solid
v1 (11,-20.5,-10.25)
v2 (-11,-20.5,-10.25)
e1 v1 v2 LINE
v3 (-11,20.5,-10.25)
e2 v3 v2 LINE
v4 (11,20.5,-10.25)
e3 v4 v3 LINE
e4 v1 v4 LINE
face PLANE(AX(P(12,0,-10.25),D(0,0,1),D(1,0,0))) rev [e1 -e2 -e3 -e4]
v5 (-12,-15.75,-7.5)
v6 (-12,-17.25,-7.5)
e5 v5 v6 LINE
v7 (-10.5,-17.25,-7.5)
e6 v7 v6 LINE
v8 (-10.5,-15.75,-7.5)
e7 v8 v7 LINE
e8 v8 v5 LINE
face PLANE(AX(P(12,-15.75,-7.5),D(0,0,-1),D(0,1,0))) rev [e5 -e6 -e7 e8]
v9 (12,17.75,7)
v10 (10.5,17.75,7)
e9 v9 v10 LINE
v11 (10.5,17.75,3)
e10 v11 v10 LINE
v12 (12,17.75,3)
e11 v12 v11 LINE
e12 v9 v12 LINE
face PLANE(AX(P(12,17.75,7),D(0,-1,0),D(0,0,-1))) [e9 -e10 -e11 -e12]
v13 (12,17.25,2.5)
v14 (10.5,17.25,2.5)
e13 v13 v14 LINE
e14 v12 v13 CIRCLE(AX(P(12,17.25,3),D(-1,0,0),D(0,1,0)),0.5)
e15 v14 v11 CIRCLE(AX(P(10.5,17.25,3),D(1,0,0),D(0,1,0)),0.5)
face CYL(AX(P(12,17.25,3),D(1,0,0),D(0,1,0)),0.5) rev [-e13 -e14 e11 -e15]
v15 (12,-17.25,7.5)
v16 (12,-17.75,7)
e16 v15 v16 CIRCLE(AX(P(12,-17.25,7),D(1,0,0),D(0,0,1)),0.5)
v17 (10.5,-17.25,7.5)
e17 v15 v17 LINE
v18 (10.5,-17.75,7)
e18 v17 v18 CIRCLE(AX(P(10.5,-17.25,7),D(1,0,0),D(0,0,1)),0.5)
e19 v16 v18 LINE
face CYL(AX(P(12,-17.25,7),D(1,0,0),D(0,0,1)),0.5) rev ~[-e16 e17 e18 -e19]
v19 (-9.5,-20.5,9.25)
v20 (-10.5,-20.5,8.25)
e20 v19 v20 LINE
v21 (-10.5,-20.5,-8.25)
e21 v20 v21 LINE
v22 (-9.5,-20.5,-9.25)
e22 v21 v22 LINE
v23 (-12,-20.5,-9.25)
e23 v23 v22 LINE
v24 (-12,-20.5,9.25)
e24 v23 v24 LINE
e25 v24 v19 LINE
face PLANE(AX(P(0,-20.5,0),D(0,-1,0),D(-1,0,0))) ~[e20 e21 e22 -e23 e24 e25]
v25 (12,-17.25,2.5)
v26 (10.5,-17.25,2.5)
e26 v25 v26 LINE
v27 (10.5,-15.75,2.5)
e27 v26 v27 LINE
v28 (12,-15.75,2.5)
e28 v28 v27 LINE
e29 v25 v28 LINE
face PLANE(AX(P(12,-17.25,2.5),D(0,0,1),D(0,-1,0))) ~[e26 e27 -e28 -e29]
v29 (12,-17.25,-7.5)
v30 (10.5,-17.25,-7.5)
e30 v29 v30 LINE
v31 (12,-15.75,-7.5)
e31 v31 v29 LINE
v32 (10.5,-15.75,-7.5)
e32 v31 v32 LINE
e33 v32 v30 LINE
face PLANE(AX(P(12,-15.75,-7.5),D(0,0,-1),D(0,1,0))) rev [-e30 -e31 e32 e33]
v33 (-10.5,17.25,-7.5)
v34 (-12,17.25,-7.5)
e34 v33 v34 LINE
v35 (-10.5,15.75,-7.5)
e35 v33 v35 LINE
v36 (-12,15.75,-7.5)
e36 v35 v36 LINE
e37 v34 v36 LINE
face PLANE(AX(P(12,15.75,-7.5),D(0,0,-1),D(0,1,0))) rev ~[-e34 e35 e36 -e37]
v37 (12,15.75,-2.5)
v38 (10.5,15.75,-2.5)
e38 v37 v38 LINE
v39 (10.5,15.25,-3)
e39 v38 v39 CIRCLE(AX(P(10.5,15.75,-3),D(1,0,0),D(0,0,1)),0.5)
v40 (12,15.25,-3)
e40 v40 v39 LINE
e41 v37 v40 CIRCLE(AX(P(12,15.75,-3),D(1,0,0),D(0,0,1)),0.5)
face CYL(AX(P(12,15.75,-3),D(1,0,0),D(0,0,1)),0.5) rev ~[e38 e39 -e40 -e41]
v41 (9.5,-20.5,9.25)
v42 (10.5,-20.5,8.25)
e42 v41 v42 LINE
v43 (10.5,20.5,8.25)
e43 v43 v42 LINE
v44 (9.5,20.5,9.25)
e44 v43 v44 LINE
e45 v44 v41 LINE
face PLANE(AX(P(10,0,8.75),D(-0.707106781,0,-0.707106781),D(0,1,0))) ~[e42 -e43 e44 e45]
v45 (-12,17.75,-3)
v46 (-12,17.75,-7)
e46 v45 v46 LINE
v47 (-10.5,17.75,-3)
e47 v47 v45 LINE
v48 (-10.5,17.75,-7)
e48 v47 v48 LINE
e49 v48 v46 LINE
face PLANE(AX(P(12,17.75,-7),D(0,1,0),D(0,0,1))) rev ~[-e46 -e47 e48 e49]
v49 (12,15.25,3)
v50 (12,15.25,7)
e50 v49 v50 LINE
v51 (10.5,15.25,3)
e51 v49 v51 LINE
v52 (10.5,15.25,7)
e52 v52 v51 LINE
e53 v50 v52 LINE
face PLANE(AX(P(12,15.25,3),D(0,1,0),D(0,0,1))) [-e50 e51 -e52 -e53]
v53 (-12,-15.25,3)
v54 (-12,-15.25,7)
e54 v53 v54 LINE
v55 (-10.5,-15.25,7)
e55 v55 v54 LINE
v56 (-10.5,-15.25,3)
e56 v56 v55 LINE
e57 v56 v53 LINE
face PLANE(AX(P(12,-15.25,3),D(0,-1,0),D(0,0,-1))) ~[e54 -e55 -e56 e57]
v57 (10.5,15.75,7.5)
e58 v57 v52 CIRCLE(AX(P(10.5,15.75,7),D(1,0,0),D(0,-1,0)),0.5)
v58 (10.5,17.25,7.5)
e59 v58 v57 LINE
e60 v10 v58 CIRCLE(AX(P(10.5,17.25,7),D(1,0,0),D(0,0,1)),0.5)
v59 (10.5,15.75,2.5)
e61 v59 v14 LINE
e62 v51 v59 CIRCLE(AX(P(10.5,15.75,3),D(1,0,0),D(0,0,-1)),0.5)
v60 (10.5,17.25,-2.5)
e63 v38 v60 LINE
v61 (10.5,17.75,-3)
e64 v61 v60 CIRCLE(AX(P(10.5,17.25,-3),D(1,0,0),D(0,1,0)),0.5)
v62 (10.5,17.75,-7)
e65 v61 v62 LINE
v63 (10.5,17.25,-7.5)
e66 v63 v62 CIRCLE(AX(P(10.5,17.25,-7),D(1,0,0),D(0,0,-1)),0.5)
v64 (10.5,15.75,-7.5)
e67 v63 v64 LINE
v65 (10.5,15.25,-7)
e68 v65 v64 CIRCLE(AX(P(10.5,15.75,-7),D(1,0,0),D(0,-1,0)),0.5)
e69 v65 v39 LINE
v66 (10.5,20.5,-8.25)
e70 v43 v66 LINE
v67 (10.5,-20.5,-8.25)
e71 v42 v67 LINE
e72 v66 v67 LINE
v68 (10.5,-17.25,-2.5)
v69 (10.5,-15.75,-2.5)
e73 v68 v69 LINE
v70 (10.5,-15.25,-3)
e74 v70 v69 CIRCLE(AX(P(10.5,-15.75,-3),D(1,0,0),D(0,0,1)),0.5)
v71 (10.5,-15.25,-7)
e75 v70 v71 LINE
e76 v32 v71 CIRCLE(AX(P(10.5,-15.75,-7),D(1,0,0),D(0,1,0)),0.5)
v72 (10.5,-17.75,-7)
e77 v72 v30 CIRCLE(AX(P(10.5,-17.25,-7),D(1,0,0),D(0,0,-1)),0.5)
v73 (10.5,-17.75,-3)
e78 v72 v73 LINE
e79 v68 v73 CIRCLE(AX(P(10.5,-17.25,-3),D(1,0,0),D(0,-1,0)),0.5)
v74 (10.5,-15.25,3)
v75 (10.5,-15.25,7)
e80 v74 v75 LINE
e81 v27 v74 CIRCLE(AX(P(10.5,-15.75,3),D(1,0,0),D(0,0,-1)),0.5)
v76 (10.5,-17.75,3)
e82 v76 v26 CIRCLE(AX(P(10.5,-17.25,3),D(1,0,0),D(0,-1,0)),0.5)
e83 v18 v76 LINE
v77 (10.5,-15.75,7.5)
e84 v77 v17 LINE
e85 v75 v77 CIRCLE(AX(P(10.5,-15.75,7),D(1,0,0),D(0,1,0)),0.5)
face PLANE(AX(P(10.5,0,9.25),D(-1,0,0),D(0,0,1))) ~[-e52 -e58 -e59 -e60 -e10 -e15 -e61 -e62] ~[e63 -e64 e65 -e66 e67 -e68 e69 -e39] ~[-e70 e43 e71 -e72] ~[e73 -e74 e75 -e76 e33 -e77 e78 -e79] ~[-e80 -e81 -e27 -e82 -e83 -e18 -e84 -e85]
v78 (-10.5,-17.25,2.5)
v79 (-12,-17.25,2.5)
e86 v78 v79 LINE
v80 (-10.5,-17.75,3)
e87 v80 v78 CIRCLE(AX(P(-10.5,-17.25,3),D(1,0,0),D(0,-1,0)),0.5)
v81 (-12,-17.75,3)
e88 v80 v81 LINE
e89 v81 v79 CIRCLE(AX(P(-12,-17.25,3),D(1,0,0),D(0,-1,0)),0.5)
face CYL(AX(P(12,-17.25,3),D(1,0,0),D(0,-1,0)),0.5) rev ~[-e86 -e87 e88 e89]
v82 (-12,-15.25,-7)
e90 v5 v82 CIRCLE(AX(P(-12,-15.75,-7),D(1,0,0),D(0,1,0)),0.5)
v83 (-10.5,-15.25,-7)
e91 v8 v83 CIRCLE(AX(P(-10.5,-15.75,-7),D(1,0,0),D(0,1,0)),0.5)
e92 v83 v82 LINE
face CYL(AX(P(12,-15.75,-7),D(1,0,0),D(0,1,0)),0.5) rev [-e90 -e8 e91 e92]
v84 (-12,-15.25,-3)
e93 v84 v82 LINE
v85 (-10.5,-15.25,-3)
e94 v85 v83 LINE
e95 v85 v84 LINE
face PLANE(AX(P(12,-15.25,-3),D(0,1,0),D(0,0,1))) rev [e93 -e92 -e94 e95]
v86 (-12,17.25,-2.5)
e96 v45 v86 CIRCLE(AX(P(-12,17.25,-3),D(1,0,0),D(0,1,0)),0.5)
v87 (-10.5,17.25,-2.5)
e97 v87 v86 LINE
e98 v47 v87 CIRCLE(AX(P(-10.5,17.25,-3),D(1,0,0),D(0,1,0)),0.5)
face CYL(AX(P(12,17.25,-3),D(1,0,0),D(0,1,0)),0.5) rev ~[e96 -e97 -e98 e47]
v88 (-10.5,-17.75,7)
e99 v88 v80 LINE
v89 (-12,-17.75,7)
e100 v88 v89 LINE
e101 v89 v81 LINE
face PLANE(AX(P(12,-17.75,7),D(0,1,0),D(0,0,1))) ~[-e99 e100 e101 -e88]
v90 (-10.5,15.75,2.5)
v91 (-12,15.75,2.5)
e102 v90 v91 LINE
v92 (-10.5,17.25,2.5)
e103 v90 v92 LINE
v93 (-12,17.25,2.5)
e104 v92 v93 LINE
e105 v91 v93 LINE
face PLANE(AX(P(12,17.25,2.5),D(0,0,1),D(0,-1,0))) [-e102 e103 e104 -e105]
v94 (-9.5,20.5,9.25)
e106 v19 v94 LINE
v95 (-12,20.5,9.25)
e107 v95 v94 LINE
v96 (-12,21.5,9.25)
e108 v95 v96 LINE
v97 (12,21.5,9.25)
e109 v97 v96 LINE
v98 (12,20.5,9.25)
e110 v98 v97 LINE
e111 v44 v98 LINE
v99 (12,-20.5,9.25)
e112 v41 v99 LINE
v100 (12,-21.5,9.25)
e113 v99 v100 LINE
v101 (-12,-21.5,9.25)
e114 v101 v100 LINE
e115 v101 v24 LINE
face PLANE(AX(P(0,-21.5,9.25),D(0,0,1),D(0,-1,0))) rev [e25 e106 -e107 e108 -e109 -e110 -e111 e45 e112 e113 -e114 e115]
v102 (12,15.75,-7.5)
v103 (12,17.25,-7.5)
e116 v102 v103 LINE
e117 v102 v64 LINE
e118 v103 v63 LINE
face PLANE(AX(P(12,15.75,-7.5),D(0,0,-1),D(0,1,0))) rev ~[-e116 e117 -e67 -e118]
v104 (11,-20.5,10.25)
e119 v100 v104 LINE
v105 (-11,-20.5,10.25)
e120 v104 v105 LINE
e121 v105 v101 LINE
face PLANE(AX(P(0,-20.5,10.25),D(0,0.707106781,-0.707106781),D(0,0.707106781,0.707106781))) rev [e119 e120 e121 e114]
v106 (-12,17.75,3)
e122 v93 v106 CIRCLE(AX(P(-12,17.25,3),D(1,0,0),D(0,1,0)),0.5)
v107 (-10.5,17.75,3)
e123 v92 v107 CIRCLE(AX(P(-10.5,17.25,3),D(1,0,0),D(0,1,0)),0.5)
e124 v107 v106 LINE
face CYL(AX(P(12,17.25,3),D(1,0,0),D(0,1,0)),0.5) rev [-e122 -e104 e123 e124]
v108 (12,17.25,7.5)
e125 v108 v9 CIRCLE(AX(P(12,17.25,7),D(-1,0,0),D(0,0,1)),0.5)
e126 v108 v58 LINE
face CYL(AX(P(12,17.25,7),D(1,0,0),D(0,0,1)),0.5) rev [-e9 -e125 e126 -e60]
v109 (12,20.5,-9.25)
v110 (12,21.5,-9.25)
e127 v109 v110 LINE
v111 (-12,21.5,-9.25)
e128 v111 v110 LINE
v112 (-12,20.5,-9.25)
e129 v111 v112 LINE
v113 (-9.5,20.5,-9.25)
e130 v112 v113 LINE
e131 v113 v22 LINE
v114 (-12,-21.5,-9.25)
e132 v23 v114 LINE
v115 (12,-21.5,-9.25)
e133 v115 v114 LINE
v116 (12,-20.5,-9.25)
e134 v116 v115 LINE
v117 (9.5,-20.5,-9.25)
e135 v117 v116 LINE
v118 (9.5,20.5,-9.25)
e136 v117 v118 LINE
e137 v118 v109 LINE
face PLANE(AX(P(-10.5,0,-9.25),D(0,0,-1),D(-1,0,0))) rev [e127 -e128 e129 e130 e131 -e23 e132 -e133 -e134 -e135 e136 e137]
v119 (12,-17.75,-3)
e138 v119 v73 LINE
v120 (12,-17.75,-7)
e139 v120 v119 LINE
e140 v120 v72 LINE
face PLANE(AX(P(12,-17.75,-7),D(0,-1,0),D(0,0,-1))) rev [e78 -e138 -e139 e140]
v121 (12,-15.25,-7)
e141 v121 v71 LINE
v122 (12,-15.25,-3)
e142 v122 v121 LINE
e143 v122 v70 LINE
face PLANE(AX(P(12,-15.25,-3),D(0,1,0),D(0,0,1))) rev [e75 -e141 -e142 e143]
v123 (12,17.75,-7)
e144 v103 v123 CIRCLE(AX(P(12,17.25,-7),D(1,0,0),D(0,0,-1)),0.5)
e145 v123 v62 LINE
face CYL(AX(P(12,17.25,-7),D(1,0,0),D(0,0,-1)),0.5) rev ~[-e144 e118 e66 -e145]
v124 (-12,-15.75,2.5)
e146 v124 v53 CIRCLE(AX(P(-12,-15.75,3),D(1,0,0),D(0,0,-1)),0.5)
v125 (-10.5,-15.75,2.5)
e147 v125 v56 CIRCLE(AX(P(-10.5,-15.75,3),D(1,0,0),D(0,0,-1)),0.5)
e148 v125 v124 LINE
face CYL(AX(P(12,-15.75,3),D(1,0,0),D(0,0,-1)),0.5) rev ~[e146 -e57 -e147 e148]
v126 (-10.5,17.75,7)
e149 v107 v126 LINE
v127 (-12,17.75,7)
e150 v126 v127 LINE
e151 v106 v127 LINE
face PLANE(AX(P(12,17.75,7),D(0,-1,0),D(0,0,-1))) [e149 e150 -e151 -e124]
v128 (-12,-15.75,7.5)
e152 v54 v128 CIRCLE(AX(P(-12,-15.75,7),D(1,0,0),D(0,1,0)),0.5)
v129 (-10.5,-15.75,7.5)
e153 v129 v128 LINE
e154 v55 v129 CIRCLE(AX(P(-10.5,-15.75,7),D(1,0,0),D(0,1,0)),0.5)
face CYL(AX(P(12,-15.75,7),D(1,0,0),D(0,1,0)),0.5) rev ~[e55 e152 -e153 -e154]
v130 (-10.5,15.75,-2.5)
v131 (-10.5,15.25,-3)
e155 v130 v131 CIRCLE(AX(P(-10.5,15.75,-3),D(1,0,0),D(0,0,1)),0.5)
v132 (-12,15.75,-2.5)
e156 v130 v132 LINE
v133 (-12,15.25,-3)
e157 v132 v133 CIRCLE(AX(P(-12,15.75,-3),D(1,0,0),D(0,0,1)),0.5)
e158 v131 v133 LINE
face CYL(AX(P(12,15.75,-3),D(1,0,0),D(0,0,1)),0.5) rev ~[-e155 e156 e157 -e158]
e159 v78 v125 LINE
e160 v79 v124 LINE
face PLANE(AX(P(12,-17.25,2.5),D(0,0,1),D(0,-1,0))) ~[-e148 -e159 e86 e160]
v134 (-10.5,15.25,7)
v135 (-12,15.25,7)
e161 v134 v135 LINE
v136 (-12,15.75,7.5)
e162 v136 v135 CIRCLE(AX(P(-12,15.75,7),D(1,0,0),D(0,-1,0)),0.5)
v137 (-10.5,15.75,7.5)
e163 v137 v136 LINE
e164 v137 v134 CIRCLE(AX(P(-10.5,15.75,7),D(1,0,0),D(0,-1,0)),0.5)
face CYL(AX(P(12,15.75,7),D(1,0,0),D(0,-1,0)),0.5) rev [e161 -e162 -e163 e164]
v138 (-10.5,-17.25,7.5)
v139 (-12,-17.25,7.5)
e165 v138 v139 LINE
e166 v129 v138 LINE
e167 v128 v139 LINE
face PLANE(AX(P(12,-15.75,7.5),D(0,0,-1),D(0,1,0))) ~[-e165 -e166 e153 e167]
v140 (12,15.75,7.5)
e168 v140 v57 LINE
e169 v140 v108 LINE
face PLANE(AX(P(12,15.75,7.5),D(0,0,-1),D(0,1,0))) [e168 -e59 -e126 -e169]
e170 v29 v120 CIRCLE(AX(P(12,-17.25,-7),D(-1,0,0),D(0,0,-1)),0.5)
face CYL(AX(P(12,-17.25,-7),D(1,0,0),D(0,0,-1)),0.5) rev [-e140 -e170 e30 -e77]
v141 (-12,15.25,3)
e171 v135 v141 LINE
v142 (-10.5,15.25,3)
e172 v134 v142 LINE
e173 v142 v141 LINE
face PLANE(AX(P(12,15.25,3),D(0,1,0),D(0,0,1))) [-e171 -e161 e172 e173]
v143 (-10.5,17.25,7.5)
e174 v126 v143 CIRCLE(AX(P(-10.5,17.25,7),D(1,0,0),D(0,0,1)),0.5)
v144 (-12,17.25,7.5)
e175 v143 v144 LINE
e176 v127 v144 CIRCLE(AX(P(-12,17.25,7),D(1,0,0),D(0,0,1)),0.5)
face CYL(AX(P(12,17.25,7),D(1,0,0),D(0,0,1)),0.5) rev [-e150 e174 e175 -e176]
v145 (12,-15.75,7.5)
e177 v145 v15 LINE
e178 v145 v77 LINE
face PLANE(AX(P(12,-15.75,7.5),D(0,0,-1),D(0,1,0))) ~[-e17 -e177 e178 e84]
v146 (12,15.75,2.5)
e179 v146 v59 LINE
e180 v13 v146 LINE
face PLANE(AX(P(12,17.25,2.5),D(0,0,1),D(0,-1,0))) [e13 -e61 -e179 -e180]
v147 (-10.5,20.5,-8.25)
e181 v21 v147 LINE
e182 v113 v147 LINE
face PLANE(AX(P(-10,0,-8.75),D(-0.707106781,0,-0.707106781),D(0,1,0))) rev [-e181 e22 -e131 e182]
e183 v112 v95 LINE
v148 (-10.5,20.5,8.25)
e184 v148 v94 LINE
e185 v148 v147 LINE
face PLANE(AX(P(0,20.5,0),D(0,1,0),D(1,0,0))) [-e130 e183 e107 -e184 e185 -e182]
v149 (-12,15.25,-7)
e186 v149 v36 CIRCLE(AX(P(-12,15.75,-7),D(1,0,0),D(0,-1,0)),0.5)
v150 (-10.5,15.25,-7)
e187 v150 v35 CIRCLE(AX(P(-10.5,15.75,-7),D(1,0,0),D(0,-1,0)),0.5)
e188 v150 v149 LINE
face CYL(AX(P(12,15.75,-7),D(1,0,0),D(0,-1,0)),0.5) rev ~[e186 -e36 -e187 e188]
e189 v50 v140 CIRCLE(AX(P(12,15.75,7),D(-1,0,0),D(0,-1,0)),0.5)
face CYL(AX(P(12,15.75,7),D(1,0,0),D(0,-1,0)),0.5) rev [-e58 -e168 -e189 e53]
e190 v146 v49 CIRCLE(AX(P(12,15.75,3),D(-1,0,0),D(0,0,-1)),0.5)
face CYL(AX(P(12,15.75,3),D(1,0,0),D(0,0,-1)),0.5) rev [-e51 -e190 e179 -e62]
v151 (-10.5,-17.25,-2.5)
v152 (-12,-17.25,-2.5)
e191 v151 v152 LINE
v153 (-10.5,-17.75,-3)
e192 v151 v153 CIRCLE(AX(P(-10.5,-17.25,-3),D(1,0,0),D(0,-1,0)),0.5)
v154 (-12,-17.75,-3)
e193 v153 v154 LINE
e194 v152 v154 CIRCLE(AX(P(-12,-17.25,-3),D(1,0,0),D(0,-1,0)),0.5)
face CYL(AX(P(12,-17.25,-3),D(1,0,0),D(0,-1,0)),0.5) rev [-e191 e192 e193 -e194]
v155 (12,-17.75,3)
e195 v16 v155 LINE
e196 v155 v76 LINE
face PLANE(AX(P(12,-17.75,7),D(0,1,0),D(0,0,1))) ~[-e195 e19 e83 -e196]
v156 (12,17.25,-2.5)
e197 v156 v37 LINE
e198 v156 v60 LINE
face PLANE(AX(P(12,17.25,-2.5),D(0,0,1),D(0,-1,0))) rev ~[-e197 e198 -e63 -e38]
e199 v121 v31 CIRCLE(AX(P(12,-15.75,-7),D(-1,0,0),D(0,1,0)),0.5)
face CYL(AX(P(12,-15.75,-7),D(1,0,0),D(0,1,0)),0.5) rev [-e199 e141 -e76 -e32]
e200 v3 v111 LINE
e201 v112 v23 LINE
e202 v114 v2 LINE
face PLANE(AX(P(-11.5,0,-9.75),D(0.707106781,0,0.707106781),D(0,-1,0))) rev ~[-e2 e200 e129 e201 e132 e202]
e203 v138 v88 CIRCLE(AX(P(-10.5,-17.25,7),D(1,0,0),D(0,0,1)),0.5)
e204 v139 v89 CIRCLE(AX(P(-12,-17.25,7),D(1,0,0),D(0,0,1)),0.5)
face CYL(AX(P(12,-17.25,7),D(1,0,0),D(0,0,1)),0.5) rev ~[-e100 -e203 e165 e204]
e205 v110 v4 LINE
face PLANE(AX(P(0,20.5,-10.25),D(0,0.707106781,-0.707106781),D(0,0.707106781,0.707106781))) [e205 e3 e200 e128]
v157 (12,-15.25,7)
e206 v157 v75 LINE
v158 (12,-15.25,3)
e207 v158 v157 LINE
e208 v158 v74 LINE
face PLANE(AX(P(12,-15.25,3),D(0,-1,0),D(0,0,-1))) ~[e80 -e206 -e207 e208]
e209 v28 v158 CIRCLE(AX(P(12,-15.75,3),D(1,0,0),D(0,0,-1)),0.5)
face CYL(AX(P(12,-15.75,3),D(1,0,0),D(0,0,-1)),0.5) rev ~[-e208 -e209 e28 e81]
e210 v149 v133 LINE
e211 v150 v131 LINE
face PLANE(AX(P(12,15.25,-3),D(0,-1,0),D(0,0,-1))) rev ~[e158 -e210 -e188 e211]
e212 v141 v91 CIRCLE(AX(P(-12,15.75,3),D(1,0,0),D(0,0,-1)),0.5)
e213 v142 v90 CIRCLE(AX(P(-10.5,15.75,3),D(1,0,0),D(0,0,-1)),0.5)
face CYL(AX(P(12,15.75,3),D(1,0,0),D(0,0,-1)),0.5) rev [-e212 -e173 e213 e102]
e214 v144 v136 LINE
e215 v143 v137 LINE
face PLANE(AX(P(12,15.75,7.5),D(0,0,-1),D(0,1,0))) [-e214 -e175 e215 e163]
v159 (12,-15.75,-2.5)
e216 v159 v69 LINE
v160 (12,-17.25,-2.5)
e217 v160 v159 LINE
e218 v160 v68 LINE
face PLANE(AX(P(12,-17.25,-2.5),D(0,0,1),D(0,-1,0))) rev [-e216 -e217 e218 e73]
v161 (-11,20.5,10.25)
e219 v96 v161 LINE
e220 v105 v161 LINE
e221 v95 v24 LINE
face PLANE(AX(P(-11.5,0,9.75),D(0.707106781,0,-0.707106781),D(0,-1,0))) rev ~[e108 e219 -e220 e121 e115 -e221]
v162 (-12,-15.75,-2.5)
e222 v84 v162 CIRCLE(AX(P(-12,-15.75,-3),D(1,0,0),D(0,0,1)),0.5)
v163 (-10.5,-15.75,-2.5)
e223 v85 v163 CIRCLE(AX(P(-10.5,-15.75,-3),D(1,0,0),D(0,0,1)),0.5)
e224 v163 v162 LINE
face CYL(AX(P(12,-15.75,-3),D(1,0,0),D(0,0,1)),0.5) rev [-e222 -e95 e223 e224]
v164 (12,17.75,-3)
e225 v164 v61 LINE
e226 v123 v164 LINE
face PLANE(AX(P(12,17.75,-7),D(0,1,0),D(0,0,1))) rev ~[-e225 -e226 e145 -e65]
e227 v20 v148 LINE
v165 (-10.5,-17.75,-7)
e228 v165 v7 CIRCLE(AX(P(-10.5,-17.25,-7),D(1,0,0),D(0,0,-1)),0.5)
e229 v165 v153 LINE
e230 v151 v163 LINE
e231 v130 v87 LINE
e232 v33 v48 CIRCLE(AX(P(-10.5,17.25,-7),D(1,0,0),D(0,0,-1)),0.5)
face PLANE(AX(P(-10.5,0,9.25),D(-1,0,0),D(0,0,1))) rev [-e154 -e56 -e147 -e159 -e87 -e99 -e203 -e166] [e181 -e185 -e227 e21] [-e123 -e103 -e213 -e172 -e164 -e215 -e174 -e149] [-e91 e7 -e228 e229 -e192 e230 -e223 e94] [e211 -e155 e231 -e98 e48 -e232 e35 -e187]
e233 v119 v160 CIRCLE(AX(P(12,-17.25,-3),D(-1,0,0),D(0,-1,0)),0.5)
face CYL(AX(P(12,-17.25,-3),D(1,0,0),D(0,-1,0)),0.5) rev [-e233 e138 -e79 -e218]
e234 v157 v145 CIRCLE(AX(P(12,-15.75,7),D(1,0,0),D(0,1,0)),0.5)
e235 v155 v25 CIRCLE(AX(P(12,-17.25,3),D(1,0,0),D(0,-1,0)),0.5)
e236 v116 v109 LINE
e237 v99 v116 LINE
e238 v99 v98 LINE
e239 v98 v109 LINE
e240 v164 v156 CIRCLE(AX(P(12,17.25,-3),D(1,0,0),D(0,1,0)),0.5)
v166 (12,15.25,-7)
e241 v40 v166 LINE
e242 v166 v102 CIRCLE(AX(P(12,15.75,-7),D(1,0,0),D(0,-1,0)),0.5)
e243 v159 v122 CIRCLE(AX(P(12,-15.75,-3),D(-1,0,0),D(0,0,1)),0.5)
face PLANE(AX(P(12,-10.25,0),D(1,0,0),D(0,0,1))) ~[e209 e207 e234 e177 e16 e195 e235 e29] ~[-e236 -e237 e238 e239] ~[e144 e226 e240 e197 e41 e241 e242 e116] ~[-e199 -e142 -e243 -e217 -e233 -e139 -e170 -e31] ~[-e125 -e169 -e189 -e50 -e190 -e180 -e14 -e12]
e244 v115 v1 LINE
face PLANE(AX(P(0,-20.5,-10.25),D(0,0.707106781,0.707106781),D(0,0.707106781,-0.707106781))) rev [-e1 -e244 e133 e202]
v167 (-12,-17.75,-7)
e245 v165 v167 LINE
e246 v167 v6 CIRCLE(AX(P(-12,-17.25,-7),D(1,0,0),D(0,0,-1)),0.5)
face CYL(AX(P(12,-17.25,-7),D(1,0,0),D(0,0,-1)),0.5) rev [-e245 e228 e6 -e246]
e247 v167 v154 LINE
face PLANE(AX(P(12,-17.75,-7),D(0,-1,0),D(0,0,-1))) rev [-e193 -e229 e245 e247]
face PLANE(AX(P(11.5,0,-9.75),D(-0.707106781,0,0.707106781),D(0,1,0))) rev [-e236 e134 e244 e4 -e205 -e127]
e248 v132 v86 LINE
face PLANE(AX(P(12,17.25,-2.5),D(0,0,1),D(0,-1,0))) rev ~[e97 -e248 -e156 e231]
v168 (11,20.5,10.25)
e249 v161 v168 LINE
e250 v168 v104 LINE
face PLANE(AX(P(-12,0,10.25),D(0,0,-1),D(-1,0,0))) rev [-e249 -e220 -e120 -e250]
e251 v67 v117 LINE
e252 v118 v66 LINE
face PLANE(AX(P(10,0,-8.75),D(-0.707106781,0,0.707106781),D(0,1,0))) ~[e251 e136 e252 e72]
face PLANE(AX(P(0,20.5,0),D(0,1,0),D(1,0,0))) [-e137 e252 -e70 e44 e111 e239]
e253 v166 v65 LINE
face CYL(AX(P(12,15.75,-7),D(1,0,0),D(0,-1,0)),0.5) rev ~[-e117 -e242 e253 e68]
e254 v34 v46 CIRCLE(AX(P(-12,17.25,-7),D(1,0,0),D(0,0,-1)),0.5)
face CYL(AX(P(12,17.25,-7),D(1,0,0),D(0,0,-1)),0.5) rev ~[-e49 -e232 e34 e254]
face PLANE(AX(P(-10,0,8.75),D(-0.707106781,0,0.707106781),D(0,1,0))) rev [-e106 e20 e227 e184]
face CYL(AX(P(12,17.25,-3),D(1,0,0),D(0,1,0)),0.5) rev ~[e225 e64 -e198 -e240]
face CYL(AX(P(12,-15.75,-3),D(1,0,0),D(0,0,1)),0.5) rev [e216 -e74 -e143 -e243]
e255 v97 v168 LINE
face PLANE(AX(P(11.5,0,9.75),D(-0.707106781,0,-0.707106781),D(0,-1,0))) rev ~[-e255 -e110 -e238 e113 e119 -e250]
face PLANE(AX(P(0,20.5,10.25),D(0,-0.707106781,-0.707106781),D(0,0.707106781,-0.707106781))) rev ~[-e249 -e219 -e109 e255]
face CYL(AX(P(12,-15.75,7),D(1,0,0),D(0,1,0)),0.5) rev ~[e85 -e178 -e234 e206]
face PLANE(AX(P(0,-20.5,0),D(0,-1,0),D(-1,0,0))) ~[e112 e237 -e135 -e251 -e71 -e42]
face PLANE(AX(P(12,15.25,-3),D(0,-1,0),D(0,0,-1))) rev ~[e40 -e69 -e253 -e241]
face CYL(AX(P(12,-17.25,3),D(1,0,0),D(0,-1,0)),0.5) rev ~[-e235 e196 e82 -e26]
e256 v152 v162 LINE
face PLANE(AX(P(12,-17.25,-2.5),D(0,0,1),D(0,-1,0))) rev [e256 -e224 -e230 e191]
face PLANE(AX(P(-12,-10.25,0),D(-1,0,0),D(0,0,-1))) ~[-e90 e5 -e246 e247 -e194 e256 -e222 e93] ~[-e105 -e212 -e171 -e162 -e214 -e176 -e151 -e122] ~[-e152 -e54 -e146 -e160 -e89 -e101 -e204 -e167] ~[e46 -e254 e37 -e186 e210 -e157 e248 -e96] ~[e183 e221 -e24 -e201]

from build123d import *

# Parameters (mm, degrees)
SKETCH2_W                       = 20.999999999999993
SKETCH2_H                       = 18.500000000000007
BOSS_EXTRUDE2_DEPTH             = 20.5
BOSS_EXTRUDE5_REACH             = 27.871
BOSS_EXTRUDE5_DIRECTION_2_REACH = 27.871
CUT_EXTRUDE1_DEPTH              = 34.81290434139014
CHAMFER1_SIZE                   = 1
CHAMFER1_OF_MIRROR1_SIZE        = 1


with BuildPart() as part:
    # Sketch2 → Boss-Extrude2 (new body)
    with BuildSketch(Plane(origin=(0, 0, 0), x_dir=(1, 0, 0), z_dir=(0, 1, 0))):
        Polygon((-11.999999999999991, -10.249999999999988), (12, -10.249999999999982), (11.999999999999998, 10.249999999999982), (-11.999999999999991, 10.249999999999979), align=None)
        Rectangle(SKETCH2_W, SKETCH2_H, mode=Mode.SUBTRACT)
    boss_extrude2 = extrude(amount=BOSS_EXTRUDE2_DEPTH)

    # Boss-Extrude5: up to this face of the body (flat: up to its plane)
    boss_extrude5_end = Plane(part.part.faces().sort_by_distance((12, 10.25, 0))[0])
    # Sketch4 → Boss-Extrude5 (add, up to the picked face)
    with BuildSketch(Plane(origin=(0, 0, 0), x_dir=(0, 0, -1), z_dir=(1, 0, 0)), mode=Mode.PRIVATE) as boss_extrude5_sk1:
        Polygon((-10.249999999999982, 20.5), (-9.249999999999988, 21.5), (-9.249999999999988, 20.5), align=None)
    boss_extrude5_tool1 = split(extrude(boss_extrude5_sk1.sketch, amount=BOSS_EXTRUDE5_REACH, mode=Mode.PRIVATE), bisect_by=boss_extrude5_end, keep=Keep.BOTH, mode=Mode.PRIVATE)
    # Sketch4 → Boss-Extrude5 (add, up to the picked face)
    with BuildSketch(Plane(origin=(0, 0, 0), x_dir=(0, 0, -1), z_dir=(1, 0, 0)), mode=Mode.PRIVATE) as boss_extrude5_sk2:
        Polygon((10.25, 20.500000000000004), (9.250000000000005, 21.500000000000004), (9.250000000000005, 20.500000000000004), align=None)
    boss_extrude5_tool2 = split(extrude(boss_extrude5_sk2.sketch, amount=BOSS_EXTRUDE5_REACH, mode=Mode.PRIVATE), bisect_by=boss_extrude5_end, keep=Keep.BOTH, mode=Mode.PRIVATE)
    boss_extrude5_1 = boss_extrude5_tool1.solids().sort_by(Axis((0, 20.833333, 9.583333), (1, 0, 0)))[0]
    add(boss_extrude5_1)
    boss_extrude5_2 = boss_extrude5_tool2.solids().sort_by(Axis((0, 20.833333, -9.583333), (1, 0, 0)))[0]
    add(boss_extrude5_2)
    boss_extrude5 = boss_extrude5_1 + boss_extrude5_2  # Boss-Extrude5 as one shape, for the pattern or mirror that repeats it

    # Boss-Extrude5 direction 2: up to this face of the body (flat: up to its plane)
    boss_extrude5_direction_2_end = Plane(part.part.faces().sort_by_distance((-12, 10.25, 0))[0])
    # Sketch4 → Boss-Extrude5 direction 2 (add, up to the picked face)
    with BuildSketch(Plane(origin=(0, 0, 0), x_dir=(0, 0, -1), z_dir=(1, 0, 0)), mode=Mode.PRIVATE) as boss_extrude5_direction_2_sk1:
        Polygon((-10.249999999999982, 20.5), (-9.249999999999988, 21.5), (-9.249999999999988, 20.5), align=None)
    boss_extrude5_direction_2_tool1 = split(extrude(boss_extrude5_direction_2_sk1.sketch, amount=-BOSS_EXTRUDE5_DIRECTION_2_REACH, mode=Mode.PRIVATE), bisect_by=boss_extrude5_direction_2_end, keep=Keep.BOTH, mode=Mode.PRIVATE)
    # Sketch4 → Boss-Extrude5 direction 2 (add, up to the picked face)
    with BuildSketch(Plane(origin=(0, 0, 0), x_dir=(0, 0, -1), z_dir=(1, 0, 0)), mode=Mode.PRIVATE) as boss_extrude5_direction_2_sk2:
        Polygon((10.25, 20.500000000000004), (9.250000000000005, 21.500000000000004), (9.250000000000005, 20.500000000000004), align=None)
    boss_extrude5_direction_2_tool2 = split(extrude(boss_extrude5_direction_2_sk2.sketch, amount=-BOSS_EXTRUDE5_DIRECTION_2_REACH, mode=Mode.PRIVATE), bisect_by=boss_extrude5_direction_2_end, keep=Keep.BOTH, mode=Mode.PRIVATE)
    boss_extrude5_direction_2_1 = boss_extrude5_direction_2_tool1.solids().sort_by(Axis((0, 20.833333, 9.583333), (-1, 0, 0)))[0]
    add(boss_extrude5_direction_2_1)
    boss_extrude5_direction_2_2 = boss_extrude5_direction_2_tool2.solids().sort_by(Axis((0, 20.833333, -9.583333), (-1, 0, 0)))[0]
    add(boss_extrude5_direction_2_2)
    boss_extrude5_direction_2 = boss_extrude5_direction_2_1 + boss_extrude5_direction_2_2  # Boss-Extrude5 direction 2 as one shape, for the pattern or mirror that repeats it

    # Sketch5 → Cut-Extrude1 (cut, through all)
    with BuildSketch(Plane(origin=(11.999999999999998, 0, -1.02e-15), x_dir=(0, 0, -1), z_dir=(1, 0, 0))):
        with BuildLine():
            Line((-6.9999999999999885, 17.750000000000004), (-2.9999999999999893, 17.750000000000004))
            ThreePointArc((-2.9999999999999893, 17.750000000000004), (-2.646446609406713, 17.603553390593277), (-2.4999999999999893, 17.25))
            Line((-2.4999999999999893, 17.25), (-2.4999999999999893, 15.75))
            ThreePointArc((-2.4999999999999893, 15.75), (-2.6464466094067154, 15.396446609406727), (-2.9999999999999893, 15.250000000000002))
            Line((-2.9999999999999893, 15.250000000000002), (-6.9999999999999885, 15.250000000000002))
            ThreePointArc((-6.9999999999999885, 15.250000000000002), (-7.353553390593261, 15.396446609406727), (-7.4999999999999885, 15.75))
            Line((-7.4999999999999885, 15.75), (-7.49999999999999, 17.25))
            ThreePointArc((-7.49999999999999, 17.25), (-7.353553390593265, 17.603553390593277), (-6.9999999999999885, 17.750000000000004))
        make_face()
        with BuildLine():
            Line((7.00000000000001, 17.750000000000004), (3.000000000000011, 17.750000000000004))
            ThreePointArc((3.000000000000011, 17.750000000000004), (2.646446609406735, 17.603553390593277), (2.500000000000011, 17.25))
            Line((2.500000000000011, 17.25), (2.500000000000011, 15.75))
            ThreePointArc((2.500000000000011, 15.75), (2.6464466094067376, 15.396446609406725), (3.000000000000012, 15.250000000000002))
            Line((3.000000000000012, 15.250000000000002), (7.0000000000000115, 15.250000000000004))
            ThreePointArc((7.0000000000000115, 15.250000000000004), (7.353553390593284, 15.39644660940673), (7.500000000000011, 15.750000000000004))
            Line((7.500000000000011, 15.750000000000004), (7.500000000000012, 17.250000000000004))
            ThreePointArc((7.500000000000012, 17.250000000000004), (7.3535533905932855, 17.603553390593277), (7.00000000000001, 17.750000000000004))
        make_face()
    cut_extrude1 = extrude(amount=-CUT_EXTRUDE1_DEPTH, mode=Mode.SUBTRACT)

    # Chamfer1
    chamfer1_edges = [part.edges().sort_by_distance(p)[0] for p in [
        (-11.999999999999991, 10.25, -10.249999999999979),
        (11.999999999999998, 10.25, -10.249999999999982),
        (12, 10.25, 10.249999999999982),
        (-11.999999999999991, 10.25, 10.249999999999988),
        (10.5, 10.25, -9.250000000000018),
        (-10.499999999999991, 10.25, -9.250000000000018),
        (-10.499999999999991, 10.25, 9.249999999999988),
        (10.5, 10.25, 9.249999999999988),
    ]]
    chamfer(chamfer1_edges, length=CHAMFER1_SIZE)


with BuildPart() as mirror1_1:
    # Mirror1: Boss-Extrude2, Boss-Extrude5, Boss-Extrude5 direction 2 across plane
    add(boss_extrude2.mirror(Plane.ZX))
    add(boss_extrude5.mirror(Plane.ZX))
    add(boss_extrude5_direction_2.mirror(Plane.ZX))

    # Mirror1 2: Cut-Extrude1 across plane
    add(cut_extrude1.mirror(Plane.ZX), mode=Mode.SUBTRACT)

    # Chamfer1 of Mirror1
    chamfer1_of_mirror1_edges = [mirror1_1.edges().sort_by_distance(p)[0] for p in [
        (-11.999999999999991, -10.25, -10.249999999999979),
        (11.999999999999998, -10.25, -10.249999999999982),
        (12, -10.25, 10.249999999999982),
        (-11.999999999999991, -10.25, 10.249999999999988),
        (10.5, -10.25, -9.250000000000018),
        (-10.499999999999991, -10.25, -9.250000000000018),
        (-10.499999999999991, -10.25, 9.249999999999988),
        (10.5, -10.25, 9.249999999999988),
    ]]
    chamfer(chamfer1_of_mirror1_edges, length=CHAMFER1_OF_MIRROR1_SIZE)


with BuildPart() as part_1:
    add(part.part)

    # Mirror1 united with what the copies touc: union Mirror1_1
    add(mirror1_1.part)


solid = part_1.part
